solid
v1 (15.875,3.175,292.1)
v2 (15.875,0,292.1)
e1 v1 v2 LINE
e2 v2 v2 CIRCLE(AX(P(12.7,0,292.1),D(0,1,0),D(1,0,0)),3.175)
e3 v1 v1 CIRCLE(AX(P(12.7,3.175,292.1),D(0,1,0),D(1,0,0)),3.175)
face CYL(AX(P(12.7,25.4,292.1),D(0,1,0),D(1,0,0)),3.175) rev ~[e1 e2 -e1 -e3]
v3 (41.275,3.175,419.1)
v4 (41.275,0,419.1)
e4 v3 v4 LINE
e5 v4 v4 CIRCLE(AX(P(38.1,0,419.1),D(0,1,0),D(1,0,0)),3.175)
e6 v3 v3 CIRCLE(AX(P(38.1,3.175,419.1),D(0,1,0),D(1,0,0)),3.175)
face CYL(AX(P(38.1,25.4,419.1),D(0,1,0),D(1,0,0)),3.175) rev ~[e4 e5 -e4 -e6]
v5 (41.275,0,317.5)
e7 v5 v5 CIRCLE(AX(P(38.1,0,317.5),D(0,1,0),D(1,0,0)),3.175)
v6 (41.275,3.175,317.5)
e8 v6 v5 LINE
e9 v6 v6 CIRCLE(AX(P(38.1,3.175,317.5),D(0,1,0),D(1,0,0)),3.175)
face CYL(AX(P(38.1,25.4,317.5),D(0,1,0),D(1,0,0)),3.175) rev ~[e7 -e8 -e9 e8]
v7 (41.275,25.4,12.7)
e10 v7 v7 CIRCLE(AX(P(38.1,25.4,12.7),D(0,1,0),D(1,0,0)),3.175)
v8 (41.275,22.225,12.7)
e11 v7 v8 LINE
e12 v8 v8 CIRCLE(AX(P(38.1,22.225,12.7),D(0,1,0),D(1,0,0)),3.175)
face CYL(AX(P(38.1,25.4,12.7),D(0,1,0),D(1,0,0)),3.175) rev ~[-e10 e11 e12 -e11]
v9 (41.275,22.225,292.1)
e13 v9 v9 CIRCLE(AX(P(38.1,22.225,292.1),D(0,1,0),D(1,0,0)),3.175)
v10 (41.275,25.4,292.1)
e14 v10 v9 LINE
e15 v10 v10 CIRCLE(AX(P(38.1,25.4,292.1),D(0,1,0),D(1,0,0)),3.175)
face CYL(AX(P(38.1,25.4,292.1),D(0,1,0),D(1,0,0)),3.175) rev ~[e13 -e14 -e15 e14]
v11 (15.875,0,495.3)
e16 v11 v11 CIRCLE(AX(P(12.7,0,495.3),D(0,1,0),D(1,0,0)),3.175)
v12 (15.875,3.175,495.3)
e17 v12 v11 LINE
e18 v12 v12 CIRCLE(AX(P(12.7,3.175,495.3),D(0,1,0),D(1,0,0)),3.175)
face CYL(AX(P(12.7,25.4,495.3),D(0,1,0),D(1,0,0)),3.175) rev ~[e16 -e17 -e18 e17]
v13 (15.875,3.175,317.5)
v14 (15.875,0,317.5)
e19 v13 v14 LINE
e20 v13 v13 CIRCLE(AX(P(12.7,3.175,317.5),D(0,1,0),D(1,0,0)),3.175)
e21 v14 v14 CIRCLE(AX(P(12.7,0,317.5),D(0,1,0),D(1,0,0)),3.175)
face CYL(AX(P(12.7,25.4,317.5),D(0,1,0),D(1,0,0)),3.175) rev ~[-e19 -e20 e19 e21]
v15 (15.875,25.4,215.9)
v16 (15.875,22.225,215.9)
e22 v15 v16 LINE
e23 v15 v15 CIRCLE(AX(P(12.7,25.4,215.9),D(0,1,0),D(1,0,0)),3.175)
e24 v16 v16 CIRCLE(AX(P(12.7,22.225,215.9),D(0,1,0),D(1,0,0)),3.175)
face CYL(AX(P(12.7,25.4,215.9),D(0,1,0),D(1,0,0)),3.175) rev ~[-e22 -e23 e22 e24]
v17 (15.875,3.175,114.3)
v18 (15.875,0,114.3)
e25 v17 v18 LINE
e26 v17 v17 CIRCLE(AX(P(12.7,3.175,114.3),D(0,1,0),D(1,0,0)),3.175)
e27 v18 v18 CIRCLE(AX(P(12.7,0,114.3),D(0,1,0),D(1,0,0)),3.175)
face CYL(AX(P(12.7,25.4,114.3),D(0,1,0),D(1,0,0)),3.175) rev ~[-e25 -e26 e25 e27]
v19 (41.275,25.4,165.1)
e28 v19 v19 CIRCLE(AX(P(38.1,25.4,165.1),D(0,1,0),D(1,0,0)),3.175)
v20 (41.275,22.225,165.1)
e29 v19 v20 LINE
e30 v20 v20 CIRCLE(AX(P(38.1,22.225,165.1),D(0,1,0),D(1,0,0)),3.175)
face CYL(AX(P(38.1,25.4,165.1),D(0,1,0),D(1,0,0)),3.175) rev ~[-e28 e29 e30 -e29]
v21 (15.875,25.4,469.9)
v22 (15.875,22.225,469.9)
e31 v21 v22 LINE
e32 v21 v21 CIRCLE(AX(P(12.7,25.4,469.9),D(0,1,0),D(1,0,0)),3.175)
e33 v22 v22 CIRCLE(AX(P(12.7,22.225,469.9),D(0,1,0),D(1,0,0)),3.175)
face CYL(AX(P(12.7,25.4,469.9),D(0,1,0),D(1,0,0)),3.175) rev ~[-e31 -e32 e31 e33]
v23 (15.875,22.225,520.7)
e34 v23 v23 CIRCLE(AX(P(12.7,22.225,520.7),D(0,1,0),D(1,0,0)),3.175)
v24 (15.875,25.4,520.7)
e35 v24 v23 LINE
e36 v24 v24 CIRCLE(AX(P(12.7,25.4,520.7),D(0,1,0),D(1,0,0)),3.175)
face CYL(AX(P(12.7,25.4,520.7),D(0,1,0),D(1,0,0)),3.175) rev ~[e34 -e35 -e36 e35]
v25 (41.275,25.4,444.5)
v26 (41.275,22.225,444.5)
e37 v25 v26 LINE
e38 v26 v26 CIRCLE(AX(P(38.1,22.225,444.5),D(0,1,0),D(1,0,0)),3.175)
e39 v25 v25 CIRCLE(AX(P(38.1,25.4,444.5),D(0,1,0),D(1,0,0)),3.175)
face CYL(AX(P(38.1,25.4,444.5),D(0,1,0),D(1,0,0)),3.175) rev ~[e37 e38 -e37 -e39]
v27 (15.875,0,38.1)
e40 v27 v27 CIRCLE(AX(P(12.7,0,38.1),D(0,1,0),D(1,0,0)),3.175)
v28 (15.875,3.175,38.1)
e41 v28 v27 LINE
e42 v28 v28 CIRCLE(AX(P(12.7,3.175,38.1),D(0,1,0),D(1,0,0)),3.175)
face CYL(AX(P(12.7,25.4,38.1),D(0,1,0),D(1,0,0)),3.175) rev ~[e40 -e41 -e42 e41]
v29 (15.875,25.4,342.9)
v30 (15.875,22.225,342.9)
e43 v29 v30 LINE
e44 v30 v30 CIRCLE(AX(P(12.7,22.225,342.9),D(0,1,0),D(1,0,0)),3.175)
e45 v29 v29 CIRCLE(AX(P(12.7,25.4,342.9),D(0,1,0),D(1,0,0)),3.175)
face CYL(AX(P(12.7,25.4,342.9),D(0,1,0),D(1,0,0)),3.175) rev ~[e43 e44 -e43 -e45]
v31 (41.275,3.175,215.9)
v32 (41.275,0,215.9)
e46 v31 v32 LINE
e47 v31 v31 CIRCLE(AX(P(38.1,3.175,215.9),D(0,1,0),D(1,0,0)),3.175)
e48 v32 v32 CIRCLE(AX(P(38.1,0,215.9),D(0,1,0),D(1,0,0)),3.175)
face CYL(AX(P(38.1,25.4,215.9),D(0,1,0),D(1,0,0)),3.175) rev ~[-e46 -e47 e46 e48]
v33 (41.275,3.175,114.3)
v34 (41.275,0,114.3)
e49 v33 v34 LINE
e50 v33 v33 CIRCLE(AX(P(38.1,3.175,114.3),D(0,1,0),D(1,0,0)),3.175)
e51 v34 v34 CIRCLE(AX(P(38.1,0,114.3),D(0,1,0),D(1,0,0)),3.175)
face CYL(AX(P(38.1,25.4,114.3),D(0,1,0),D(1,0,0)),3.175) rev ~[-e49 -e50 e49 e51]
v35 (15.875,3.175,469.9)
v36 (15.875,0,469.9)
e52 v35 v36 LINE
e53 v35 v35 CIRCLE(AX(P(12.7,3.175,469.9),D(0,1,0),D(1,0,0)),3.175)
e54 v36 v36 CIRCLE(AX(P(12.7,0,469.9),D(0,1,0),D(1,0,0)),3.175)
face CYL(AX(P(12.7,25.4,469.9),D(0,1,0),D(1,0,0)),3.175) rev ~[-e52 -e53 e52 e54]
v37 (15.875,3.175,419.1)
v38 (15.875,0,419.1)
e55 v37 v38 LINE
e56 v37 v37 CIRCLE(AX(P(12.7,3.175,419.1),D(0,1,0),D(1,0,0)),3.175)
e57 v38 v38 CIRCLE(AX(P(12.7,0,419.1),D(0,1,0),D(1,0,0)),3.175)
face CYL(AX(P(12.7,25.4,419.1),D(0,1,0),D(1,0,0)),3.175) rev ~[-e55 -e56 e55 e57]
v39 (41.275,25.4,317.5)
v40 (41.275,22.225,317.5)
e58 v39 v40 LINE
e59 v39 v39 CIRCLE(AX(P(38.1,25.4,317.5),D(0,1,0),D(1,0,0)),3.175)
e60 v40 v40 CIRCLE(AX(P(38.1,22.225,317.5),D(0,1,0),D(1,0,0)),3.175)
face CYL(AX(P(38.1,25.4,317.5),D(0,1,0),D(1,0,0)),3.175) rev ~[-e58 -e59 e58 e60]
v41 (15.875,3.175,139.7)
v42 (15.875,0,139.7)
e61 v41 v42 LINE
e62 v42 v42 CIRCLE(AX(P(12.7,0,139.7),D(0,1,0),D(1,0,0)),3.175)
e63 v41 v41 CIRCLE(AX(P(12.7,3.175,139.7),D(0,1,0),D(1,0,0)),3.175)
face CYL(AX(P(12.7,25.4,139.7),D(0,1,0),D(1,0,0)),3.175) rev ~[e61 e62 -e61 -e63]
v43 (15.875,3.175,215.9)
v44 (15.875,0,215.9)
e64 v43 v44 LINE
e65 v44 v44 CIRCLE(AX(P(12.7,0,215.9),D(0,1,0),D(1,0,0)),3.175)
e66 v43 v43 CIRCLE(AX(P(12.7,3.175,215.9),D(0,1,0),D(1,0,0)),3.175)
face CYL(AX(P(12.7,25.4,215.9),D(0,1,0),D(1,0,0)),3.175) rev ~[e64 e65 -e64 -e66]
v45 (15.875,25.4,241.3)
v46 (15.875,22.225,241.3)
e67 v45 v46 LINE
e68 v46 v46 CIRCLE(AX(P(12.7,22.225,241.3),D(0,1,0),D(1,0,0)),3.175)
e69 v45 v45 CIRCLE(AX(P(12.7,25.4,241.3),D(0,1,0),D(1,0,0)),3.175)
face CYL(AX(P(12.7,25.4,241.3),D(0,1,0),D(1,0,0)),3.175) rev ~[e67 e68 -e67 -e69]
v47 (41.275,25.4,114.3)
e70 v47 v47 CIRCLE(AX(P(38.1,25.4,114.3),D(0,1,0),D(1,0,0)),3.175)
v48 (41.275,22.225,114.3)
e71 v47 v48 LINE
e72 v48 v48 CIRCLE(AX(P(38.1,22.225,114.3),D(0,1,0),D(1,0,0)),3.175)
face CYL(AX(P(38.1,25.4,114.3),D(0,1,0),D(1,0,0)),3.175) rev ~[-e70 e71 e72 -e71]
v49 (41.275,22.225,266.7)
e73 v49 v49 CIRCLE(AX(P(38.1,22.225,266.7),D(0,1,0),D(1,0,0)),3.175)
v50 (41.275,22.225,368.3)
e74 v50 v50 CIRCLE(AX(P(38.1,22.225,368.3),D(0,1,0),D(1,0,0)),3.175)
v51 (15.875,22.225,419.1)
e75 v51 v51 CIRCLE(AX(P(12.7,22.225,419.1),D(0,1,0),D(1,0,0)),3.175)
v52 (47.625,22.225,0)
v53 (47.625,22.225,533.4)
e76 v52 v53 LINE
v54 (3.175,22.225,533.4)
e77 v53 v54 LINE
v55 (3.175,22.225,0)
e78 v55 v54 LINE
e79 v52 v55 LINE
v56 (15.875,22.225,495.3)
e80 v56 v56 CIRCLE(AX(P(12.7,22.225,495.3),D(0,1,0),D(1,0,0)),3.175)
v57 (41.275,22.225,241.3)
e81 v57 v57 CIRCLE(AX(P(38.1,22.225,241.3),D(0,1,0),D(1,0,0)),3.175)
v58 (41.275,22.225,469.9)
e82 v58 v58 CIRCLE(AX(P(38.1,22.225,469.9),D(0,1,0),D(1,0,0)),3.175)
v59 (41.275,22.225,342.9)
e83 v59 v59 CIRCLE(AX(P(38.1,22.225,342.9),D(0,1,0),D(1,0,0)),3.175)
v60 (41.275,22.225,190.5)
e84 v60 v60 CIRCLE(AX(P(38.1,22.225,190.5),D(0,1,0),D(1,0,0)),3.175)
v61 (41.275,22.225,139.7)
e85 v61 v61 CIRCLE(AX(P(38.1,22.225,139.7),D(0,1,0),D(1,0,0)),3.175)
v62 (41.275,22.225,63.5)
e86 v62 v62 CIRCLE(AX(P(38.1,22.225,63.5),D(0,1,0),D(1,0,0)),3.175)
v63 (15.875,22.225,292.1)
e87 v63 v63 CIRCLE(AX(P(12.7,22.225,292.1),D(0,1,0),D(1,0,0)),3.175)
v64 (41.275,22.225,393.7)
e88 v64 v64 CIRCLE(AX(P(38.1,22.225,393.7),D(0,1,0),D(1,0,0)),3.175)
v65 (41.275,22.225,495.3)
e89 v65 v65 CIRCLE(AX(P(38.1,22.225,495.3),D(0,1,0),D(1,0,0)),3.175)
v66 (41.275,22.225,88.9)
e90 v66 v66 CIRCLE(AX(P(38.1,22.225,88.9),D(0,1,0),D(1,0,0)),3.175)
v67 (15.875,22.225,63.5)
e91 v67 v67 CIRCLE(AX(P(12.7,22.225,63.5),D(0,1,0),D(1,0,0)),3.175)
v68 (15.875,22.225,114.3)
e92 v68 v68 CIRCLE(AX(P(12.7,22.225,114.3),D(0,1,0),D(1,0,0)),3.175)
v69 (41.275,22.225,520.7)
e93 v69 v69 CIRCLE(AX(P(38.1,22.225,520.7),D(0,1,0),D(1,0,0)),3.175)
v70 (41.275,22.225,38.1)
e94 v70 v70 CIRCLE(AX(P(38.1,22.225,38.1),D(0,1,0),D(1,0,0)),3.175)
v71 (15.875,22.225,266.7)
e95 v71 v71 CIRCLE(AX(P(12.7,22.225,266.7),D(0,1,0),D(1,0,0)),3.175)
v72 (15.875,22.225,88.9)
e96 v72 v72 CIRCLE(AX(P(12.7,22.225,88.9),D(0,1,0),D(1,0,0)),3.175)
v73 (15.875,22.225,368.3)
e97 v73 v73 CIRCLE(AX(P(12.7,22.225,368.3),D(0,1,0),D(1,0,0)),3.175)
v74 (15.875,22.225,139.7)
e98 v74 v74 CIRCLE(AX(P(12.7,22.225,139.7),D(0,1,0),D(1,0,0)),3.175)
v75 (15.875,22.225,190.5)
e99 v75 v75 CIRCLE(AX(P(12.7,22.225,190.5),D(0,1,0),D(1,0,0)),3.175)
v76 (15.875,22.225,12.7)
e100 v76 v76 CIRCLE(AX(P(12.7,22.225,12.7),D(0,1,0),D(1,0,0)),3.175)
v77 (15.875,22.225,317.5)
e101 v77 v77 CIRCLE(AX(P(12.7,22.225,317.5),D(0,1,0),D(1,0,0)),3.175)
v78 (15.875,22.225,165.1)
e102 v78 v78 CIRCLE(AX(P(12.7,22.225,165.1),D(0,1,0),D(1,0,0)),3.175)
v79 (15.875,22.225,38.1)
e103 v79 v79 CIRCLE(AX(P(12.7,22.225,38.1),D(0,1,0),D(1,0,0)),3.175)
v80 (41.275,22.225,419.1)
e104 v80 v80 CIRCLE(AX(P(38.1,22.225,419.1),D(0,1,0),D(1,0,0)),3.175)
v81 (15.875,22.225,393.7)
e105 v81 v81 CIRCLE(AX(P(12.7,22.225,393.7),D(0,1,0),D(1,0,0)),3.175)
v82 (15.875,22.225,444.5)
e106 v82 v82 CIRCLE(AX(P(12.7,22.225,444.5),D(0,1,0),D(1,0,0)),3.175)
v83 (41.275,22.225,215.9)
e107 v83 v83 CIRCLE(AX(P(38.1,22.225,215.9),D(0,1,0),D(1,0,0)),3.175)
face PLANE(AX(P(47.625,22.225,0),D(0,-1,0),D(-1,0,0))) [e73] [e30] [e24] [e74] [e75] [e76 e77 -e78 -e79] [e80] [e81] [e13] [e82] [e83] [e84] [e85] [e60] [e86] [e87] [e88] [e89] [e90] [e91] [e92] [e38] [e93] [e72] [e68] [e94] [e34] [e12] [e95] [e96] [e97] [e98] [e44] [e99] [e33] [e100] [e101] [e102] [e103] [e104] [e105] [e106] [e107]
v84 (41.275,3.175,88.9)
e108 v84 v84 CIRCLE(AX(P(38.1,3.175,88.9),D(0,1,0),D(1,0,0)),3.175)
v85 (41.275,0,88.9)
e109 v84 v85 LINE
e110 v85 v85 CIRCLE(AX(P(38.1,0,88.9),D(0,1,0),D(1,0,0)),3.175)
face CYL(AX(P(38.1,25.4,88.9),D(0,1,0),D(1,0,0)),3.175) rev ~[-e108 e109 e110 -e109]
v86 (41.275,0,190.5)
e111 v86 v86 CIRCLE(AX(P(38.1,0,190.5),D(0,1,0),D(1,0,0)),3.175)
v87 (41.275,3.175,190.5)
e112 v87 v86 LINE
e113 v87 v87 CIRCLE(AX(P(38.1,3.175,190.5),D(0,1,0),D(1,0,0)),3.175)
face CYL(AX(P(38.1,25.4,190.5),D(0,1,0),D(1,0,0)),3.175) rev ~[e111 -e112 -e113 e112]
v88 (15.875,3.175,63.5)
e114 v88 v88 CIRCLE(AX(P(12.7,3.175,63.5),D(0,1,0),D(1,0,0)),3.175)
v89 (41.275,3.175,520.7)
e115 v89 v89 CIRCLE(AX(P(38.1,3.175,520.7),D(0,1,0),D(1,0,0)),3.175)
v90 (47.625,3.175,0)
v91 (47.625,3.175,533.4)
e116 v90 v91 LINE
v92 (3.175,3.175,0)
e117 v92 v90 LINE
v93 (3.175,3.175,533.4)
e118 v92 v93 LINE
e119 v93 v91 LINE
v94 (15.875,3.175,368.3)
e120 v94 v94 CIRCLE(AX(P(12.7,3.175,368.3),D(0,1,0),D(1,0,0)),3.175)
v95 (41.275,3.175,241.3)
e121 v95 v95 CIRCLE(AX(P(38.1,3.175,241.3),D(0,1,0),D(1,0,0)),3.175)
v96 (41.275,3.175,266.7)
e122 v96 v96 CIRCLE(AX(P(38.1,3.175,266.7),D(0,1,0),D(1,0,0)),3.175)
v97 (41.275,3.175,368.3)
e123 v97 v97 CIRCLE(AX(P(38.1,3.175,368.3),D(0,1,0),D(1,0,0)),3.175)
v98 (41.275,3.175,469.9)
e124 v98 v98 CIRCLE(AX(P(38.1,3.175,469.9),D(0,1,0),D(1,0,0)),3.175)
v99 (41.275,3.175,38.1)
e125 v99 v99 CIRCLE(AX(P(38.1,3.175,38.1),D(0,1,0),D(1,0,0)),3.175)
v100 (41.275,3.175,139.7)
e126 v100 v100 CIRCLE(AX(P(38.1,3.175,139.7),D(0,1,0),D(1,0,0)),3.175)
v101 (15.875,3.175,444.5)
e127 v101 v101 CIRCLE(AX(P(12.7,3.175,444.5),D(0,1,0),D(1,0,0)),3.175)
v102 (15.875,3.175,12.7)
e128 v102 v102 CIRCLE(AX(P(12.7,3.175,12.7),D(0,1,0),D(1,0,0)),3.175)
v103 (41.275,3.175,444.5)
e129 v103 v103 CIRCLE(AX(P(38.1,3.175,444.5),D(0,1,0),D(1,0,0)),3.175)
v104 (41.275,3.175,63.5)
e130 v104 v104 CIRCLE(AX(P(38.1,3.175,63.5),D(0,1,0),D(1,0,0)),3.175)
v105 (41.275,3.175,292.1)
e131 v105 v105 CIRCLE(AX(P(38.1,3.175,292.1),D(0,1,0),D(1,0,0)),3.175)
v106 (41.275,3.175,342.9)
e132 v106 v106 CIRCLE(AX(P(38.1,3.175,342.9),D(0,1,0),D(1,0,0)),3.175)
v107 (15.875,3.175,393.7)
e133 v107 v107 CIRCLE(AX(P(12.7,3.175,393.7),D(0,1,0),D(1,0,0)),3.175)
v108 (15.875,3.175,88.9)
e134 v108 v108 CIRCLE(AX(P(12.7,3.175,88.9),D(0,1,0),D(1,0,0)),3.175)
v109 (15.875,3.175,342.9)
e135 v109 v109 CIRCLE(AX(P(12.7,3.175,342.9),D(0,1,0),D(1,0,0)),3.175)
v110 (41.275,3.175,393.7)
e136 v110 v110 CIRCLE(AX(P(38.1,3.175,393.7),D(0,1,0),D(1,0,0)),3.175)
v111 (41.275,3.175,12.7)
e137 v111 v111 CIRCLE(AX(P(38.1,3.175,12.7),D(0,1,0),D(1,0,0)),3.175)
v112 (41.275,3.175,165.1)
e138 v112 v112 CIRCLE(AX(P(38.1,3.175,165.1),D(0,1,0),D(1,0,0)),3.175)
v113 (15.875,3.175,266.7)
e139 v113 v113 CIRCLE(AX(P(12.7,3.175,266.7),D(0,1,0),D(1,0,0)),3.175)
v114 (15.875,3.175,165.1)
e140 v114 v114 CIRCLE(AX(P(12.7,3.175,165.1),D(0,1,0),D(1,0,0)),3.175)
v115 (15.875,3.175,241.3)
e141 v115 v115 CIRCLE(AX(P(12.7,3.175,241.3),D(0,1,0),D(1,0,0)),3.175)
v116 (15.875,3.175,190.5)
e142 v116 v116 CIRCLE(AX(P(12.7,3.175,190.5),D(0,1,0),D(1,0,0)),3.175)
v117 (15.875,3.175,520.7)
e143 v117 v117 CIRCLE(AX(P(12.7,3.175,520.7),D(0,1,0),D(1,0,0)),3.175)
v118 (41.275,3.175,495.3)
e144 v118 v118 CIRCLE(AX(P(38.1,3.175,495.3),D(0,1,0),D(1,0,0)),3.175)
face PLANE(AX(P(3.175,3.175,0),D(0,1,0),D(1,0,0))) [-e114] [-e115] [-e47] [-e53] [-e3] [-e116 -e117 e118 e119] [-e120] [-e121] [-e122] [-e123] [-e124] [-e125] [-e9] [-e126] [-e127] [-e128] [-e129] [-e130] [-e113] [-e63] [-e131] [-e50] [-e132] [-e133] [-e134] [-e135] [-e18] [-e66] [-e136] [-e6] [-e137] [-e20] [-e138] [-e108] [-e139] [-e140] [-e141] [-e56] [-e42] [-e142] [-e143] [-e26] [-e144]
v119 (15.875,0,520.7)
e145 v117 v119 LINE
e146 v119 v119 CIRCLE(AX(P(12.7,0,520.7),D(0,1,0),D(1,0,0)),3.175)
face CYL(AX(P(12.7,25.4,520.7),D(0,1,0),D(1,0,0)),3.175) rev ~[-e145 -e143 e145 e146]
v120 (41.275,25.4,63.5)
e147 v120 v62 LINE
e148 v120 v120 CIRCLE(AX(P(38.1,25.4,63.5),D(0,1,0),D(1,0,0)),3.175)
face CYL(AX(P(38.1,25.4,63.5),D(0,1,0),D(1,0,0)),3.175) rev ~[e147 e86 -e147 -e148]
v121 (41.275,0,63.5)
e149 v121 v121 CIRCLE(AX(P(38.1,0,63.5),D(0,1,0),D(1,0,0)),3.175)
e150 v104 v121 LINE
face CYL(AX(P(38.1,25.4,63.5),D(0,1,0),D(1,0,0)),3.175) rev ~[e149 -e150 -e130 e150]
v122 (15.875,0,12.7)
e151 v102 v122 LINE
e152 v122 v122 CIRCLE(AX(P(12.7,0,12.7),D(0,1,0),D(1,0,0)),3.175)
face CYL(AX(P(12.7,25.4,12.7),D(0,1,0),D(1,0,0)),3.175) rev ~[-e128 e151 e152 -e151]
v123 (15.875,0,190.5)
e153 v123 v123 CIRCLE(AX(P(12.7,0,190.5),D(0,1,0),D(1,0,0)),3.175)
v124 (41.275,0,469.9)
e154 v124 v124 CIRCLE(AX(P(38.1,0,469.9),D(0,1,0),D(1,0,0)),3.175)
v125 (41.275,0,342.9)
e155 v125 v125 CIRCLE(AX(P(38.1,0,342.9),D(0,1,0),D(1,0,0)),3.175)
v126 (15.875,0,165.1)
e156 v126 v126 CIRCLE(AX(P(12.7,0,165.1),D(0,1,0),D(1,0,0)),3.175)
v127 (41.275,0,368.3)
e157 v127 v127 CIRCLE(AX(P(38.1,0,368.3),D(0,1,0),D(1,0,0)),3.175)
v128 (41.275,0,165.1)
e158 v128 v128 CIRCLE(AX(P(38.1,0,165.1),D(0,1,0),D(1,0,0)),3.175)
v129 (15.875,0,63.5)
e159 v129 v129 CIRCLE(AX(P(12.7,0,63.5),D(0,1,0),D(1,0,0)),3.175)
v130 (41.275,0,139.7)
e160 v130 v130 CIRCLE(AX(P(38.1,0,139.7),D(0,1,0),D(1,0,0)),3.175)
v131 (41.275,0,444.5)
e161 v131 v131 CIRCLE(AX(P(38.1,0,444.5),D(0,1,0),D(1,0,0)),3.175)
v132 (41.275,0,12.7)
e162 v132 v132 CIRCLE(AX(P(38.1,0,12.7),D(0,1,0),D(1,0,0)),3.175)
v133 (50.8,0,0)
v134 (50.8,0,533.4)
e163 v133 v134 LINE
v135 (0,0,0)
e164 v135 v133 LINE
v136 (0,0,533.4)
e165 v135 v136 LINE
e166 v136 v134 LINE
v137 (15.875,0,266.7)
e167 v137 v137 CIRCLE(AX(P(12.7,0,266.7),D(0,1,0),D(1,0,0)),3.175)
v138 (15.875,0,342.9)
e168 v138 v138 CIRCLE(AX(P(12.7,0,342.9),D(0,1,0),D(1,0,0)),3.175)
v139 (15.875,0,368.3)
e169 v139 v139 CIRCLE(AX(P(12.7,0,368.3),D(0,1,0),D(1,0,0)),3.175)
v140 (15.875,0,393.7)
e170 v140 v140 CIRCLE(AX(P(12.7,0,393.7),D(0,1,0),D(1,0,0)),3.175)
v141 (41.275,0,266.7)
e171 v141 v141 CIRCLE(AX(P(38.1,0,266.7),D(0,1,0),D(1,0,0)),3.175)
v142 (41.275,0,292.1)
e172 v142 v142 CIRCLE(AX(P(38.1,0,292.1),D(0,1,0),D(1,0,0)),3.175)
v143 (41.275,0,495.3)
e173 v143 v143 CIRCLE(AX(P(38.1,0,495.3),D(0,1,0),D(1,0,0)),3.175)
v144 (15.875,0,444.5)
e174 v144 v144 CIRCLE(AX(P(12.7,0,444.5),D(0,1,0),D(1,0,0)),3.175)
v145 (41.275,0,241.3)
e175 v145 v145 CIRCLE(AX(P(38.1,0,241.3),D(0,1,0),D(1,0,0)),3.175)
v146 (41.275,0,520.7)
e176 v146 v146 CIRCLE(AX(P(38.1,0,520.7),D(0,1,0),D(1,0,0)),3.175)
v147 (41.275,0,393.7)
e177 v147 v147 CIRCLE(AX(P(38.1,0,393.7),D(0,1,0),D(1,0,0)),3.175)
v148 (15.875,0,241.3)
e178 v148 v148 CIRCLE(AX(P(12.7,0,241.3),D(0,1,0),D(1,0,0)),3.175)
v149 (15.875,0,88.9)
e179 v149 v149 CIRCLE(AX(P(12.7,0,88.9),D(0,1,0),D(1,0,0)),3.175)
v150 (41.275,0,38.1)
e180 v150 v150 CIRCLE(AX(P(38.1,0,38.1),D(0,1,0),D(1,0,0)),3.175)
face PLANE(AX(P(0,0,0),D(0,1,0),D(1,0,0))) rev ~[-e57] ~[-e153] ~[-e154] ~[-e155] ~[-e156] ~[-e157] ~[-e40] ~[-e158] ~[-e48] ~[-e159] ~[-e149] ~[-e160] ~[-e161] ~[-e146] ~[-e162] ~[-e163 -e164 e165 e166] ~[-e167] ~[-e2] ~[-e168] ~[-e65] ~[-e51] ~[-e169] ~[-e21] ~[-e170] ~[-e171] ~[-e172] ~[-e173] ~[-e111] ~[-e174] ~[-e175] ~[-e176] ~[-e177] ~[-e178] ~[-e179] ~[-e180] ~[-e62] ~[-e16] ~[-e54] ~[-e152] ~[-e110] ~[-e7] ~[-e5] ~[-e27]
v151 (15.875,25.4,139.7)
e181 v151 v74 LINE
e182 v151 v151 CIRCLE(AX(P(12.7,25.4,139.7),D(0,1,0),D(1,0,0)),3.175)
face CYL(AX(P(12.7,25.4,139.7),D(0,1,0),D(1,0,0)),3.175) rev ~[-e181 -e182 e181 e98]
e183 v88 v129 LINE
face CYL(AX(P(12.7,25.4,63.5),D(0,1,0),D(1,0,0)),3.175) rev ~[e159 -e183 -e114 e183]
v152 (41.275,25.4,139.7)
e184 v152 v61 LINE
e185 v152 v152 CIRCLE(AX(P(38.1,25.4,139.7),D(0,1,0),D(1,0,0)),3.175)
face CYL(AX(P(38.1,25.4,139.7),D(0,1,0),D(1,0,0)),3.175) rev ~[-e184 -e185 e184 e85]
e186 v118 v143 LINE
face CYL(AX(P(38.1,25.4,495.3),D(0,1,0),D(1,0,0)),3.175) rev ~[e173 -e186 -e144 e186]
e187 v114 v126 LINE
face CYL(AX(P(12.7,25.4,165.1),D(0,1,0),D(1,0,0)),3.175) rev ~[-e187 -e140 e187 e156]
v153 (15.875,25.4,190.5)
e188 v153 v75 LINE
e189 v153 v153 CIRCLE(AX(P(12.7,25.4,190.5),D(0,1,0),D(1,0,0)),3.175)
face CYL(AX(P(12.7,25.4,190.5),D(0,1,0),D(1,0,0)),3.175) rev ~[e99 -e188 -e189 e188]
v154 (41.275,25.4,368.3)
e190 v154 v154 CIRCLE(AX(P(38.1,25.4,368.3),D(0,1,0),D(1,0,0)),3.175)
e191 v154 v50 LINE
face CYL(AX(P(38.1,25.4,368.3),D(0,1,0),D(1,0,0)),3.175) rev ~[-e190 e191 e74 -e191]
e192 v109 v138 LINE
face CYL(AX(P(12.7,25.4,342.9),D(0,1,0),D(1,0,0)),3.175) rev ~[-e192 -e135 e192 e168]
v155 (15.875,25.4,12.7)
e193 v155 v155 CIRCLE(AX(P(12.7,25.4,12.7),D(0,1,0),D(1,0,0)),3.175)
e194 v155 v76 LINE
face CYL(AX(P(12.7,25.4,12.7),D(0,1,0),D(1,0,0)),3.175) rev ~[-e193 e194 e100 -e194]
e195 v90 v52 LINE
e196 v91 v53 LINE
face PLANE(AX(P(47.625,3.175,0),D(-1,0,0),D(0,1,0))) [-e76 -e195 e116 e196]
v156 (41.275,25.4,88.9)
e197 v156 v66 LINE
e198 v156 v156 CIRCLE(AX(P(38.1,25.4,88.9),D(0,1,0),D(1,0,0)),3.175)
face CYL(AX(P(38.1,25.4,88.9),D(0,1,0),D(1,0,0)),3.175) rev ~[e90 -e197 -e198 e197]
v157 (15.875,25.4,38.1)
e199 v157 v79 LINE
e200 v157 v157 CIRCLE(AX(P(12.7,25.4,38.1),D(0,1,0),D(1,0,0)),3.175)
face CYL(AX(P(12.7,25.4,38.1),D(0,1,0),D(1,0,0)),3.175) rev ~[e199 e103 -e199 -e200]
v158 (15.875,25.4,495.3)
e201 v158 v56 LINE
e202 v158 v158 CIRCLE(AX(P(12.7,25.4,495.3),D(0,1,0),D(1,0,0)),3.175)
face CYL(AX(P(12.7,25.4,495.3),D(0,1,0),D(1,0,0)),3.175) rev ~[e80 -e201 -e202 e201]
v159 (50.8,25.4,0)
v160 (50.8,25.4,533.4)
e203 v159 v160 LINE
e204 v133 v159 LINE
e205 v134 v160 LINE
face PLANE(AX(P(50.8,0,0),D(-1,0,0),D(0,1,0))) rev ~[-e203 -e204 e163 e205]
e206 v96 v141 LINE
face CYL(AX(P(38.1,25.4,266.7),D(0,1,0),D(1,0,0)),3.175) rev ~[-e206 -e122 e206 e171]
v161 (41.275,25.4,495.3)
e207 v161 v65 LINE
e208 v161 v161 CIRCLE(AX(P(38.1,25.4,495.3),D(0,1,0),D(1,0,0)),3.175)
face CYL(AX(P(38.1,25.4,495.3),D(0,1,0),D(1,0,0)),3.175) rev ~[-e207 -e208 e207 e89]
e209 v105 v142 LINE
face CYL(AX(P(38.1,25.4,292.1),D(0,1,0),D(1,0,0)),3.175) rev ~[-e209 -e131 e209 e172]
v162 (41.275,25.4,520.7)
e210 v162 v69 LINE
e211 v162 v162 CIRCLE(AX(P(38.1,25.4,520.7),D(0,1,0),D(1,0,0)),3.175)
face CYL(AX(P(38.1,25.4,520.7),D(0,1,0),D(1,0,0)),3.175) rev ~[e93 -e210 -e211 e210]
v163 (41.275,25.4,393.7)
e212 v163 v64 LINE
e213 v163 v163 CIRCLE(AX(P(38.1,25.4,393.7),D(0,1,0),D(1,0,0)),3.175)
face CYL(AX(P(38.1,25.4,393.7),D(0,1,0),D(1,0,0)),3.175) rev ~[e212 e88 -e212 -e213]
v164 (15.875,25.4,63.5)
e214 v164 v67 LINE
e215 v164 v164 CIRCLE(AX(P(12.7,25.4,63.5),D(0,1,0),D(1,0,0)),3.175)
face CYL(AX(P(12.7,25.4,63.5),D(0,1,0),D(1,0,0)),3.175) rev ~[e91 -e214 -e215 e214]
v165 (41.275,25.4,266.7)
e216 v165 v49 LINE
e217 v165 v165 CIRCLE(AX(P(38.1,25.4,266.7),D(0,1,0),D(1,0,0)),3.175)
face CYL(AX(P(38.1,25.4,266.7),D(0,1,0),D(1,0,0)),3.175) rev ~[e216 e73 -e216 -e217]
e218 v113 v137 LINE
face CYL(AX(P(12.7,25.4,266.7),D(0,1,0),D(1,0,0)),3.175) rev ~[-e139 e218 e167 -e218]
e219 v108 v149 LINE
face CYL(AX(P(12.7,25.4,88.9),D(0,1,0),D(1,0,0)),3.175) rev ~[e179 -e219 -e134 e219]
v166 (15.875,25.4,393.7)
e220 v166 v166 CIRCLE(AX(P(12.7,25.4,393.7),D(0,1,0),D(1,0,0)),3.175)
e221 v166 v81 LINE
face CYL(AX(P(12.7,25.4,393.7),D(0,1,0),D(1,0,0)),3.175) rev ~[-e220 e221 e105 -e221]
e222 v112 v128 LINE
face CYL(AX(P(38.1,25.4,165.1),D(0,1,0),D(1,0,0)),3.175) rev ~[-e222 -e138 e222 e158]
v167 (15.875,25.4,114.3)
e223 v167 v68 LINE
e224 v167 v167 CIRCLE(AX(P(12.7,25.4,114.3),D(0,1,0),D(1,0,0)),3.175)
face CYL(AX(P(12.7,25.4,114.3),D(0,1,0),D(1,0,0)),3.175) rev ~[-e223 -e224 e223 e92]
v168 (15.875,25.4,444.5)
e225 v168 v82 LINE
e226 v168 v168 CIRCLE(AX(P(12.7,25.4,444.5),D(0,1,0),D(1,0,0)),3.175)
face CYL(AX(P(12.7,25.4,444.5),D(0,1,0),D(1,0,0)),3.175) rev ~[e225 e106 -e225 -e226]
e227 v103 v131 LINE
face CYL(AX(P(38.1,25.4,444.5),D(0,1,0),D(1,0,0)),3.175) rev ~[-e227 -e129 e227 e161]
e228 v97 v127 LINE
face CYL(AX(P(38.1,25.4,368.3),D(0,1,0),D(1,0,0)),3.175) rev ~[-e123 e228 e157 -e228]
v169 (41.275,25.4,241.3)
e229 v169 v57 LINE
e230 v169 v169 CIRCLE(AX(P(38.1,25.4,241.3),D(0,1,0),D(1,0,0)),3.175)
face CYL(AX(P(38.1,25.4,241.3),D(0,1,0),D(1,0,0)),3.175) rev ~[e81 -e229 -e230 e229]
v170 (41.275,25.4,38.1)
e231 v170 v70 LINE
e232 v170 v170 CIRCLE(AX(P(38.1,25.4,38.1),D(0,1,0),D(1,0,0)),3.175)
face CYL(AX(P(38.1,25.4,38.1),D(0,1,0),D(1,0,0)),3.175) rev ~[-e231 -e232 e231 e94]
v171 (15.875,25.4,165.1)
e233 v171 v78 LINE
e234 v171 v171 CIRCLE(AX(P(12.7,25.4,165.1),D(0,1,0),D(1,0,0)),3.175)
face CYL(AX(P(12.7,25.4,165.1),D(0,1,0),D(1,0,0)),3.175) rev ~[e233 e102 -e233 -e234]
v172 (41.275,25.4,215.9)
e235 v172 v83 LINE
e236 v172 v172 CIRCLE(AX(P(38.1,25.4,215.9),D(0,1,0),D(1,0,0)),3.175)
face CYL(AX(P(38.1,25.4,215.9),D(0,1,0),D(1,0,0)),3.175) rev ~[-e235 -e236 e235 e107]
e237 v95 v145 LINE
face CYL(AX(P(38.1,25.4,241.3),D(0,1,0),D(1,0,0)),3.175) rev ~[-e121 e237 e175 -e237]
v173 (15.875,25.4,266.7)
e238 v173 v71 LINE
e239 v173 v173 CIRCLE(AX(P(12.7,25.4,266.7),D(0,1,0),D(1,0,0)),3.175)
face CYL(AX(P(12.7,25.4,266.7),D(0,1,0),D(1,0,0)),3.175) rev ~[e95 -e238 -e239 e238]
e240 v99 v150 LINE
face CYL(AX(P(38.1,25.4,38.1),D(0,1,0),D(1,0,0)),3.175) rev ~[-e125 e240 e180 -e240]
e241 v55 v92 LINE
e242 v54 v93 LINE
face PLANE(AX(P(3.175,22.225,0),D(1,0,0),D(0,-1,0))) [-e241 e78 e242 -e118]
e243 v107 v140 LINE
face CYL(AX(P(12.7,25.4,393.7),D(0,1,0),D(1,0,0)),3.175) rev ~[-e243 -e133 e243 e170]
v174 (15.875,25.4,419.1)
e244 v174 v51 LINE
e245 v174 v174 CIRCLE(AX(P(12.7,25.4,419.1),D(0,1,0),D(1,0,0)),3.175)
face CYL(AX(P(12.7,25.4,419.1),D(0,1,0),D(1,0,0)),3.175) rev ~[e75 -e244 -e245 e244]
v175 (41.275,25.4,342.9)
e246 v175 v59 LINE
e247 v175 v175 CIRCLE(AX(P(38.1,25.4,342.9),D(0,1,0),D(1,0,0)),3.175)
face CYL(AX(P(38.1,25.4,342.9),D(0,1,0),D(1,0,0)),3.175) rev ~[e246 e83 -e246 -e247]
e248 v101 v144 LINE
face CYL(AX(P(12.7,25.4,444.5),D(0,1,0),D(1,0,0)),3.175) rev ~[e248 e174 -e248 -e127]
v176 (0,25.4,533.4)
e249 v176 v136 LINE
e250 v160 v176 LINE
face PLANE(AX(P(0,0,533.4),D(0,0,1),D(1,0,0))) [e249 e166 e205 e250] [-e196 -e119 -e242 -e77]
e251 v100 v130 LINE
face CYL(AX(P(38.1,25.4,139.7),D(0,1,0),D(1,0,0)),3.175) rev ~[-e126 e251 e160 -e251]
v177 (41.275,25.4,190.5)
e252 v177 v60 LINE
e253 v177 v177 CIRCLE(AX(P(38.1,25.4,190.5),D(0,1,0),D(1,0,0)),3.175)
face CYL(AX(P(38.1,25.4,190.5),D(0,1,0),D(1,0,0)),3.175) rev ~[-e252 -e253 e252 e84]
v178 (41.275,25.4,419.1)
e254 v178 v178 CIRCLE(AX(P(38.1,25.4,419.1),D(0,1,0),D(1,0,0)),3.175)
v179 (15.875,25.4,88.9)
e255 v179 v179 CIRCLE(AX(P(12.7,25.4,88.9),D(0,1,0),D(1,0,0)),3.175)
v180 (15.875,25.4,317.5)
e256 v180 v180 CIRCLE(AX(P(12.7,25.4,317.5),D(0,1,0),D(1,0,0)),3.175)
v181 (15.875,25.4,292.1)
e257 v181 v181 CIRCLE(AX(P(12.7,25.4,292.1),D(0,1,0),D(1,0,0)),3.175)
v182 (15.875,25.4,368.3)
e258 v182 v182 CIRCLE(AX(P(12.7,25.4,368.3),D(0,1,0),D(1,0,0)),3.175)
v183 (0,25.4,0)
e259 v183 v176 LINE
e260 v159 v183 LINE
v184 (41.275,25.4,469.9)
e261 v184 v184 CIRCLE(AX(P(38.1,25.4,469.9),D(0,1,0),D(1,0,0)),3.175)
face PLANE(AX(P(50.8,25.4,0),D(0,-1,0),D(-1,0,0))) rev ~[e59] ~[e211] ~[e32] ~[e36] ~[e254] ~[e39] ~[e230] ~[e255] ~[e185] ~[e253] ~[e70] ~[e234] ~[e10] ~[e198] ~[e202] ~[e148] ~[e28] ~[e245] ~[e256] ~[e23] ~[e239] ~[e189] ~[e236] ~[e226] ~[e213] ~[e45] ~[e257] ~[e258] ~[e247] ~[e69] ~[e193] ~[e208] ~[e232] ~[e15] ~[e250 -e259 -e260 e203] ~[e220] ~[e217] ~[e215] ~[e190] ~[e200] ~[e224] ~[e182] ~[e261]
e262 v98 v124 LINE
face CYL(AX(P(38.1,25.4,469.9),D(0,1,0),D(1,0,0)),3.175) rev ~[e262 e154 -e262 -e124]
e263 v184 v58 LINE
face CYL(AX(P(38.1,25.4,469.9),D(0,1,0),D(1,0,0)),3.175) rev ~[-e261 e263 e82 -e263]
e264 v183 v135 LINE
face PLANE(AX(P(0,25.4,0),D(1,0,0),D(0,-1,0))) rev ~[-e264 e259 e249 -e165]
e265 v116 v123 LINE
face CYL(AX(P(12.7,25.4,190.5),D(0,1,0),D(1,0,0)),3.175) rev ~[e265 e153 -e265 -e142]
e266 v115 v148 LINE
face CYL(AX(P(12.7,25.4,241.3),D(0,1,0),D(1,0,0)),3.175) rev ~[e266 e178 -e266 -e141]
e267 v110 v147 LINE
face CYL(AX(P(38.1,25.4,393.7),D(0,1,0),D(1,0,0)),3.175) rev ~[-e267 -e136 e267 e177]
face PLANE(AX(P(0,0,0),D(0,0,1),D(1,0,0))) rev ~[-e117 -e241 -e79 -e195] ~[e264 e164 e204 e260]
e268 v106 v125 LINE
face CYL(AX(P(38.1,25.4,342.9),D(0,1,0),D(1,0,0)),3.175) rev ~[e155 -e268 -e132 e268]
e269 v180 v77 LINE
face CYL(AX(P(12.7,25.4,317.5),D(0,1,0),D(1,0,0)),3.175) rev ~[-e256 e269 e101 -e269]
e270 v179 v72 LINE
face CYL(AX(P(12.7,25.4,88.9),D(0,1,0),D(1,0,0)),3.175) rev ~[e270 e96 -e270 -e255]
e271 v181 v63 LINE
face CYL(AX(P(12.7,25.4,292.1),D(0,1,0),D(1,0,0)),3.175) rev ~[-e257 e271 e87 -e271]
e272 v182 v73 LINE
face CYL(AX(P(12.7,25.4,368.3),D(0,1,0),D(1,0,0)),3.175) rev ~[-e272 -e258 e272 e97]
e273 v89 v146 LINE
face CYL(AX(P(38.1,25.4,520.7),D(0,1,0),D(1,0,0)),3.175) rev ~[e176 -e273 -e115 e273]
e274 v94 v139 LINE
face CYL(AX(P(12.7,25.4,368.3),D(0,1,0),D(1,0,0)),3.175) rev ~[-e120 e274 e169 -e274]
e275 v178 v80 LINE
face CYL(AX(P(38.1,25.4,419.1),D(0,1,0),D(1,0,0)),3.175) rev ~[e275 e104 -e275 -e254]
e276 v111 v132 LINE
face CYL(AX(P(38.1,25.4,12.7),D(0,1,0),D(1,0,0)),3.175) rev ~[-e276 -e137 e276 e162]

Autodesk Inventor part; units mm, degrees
ref_plane "YZ Plane" through (0, 0, 0) normal (1, 0, 0) x (0, 1, 0)
ref_plane "XZ Plane" through (0, 0, 0) normal (0, 1, 0) x (-1, 0, 0)
ref_plane "XY Plane" through (0, 0, 0) normal (0, 0, 1) x (1, 0, 0)
sketch "Sketch1" plane through (0, 0, 0) normal (0, 0, 1) x (1, 0, 0)
  line L0 (0, 0) -> (50.8, 0)
  line L1 (50.8, 0) -> (50.8, 25.4)
  line L2 (50.8, 25.4) -> (0, 25.4)
  line L3 (0, 25.4) -> (0, 0)
  line L4 (3.175, 3.175) -> (47.625, 3.175)
  line L5 (47.625, 3.175) -> (47.625, 22.225)
  line L6 (47.625, 22.225) -> (3.175, 22.225)
  line L7 (3.175, 22.225) -> (3.175, 3.175)
  dimension "d0" = 25.4
  dimension "d1" = 50.8
  dimension "d2" = 3.175
  dimension "d3" = 3.175
  dimension "d4" = 3.175
  dimension "d5" = 3.175
extrude "Extrusion1" add sketch "Sketch1" along normal blind 533.4
sketch "Sketch2" plane through (0, 25.4, 0) normal (0, 1, 0) x (1, 0, 0)
  line L0 (50.8, 0) -> (0, 0) projected
  line L1 (0, 0) -> (0, -533.4) projected
  circle A0 centre (12.7, -12.7) radius 3.175
  dimension "d8" = 6.35
  dimension "d9" = 12.7
  dimension "d10" = 12.7
extrude "Extrusion2" cut sketch "Sketch2" against normal through all
pattern_linear "Rectangular Pattern1" count 21 spacing 25.4 along (0, 0, 1) count 2 spacing 25.4 along (1, 0, 0) of "Extrusion2"
properties part number "InnerCrossRail"
